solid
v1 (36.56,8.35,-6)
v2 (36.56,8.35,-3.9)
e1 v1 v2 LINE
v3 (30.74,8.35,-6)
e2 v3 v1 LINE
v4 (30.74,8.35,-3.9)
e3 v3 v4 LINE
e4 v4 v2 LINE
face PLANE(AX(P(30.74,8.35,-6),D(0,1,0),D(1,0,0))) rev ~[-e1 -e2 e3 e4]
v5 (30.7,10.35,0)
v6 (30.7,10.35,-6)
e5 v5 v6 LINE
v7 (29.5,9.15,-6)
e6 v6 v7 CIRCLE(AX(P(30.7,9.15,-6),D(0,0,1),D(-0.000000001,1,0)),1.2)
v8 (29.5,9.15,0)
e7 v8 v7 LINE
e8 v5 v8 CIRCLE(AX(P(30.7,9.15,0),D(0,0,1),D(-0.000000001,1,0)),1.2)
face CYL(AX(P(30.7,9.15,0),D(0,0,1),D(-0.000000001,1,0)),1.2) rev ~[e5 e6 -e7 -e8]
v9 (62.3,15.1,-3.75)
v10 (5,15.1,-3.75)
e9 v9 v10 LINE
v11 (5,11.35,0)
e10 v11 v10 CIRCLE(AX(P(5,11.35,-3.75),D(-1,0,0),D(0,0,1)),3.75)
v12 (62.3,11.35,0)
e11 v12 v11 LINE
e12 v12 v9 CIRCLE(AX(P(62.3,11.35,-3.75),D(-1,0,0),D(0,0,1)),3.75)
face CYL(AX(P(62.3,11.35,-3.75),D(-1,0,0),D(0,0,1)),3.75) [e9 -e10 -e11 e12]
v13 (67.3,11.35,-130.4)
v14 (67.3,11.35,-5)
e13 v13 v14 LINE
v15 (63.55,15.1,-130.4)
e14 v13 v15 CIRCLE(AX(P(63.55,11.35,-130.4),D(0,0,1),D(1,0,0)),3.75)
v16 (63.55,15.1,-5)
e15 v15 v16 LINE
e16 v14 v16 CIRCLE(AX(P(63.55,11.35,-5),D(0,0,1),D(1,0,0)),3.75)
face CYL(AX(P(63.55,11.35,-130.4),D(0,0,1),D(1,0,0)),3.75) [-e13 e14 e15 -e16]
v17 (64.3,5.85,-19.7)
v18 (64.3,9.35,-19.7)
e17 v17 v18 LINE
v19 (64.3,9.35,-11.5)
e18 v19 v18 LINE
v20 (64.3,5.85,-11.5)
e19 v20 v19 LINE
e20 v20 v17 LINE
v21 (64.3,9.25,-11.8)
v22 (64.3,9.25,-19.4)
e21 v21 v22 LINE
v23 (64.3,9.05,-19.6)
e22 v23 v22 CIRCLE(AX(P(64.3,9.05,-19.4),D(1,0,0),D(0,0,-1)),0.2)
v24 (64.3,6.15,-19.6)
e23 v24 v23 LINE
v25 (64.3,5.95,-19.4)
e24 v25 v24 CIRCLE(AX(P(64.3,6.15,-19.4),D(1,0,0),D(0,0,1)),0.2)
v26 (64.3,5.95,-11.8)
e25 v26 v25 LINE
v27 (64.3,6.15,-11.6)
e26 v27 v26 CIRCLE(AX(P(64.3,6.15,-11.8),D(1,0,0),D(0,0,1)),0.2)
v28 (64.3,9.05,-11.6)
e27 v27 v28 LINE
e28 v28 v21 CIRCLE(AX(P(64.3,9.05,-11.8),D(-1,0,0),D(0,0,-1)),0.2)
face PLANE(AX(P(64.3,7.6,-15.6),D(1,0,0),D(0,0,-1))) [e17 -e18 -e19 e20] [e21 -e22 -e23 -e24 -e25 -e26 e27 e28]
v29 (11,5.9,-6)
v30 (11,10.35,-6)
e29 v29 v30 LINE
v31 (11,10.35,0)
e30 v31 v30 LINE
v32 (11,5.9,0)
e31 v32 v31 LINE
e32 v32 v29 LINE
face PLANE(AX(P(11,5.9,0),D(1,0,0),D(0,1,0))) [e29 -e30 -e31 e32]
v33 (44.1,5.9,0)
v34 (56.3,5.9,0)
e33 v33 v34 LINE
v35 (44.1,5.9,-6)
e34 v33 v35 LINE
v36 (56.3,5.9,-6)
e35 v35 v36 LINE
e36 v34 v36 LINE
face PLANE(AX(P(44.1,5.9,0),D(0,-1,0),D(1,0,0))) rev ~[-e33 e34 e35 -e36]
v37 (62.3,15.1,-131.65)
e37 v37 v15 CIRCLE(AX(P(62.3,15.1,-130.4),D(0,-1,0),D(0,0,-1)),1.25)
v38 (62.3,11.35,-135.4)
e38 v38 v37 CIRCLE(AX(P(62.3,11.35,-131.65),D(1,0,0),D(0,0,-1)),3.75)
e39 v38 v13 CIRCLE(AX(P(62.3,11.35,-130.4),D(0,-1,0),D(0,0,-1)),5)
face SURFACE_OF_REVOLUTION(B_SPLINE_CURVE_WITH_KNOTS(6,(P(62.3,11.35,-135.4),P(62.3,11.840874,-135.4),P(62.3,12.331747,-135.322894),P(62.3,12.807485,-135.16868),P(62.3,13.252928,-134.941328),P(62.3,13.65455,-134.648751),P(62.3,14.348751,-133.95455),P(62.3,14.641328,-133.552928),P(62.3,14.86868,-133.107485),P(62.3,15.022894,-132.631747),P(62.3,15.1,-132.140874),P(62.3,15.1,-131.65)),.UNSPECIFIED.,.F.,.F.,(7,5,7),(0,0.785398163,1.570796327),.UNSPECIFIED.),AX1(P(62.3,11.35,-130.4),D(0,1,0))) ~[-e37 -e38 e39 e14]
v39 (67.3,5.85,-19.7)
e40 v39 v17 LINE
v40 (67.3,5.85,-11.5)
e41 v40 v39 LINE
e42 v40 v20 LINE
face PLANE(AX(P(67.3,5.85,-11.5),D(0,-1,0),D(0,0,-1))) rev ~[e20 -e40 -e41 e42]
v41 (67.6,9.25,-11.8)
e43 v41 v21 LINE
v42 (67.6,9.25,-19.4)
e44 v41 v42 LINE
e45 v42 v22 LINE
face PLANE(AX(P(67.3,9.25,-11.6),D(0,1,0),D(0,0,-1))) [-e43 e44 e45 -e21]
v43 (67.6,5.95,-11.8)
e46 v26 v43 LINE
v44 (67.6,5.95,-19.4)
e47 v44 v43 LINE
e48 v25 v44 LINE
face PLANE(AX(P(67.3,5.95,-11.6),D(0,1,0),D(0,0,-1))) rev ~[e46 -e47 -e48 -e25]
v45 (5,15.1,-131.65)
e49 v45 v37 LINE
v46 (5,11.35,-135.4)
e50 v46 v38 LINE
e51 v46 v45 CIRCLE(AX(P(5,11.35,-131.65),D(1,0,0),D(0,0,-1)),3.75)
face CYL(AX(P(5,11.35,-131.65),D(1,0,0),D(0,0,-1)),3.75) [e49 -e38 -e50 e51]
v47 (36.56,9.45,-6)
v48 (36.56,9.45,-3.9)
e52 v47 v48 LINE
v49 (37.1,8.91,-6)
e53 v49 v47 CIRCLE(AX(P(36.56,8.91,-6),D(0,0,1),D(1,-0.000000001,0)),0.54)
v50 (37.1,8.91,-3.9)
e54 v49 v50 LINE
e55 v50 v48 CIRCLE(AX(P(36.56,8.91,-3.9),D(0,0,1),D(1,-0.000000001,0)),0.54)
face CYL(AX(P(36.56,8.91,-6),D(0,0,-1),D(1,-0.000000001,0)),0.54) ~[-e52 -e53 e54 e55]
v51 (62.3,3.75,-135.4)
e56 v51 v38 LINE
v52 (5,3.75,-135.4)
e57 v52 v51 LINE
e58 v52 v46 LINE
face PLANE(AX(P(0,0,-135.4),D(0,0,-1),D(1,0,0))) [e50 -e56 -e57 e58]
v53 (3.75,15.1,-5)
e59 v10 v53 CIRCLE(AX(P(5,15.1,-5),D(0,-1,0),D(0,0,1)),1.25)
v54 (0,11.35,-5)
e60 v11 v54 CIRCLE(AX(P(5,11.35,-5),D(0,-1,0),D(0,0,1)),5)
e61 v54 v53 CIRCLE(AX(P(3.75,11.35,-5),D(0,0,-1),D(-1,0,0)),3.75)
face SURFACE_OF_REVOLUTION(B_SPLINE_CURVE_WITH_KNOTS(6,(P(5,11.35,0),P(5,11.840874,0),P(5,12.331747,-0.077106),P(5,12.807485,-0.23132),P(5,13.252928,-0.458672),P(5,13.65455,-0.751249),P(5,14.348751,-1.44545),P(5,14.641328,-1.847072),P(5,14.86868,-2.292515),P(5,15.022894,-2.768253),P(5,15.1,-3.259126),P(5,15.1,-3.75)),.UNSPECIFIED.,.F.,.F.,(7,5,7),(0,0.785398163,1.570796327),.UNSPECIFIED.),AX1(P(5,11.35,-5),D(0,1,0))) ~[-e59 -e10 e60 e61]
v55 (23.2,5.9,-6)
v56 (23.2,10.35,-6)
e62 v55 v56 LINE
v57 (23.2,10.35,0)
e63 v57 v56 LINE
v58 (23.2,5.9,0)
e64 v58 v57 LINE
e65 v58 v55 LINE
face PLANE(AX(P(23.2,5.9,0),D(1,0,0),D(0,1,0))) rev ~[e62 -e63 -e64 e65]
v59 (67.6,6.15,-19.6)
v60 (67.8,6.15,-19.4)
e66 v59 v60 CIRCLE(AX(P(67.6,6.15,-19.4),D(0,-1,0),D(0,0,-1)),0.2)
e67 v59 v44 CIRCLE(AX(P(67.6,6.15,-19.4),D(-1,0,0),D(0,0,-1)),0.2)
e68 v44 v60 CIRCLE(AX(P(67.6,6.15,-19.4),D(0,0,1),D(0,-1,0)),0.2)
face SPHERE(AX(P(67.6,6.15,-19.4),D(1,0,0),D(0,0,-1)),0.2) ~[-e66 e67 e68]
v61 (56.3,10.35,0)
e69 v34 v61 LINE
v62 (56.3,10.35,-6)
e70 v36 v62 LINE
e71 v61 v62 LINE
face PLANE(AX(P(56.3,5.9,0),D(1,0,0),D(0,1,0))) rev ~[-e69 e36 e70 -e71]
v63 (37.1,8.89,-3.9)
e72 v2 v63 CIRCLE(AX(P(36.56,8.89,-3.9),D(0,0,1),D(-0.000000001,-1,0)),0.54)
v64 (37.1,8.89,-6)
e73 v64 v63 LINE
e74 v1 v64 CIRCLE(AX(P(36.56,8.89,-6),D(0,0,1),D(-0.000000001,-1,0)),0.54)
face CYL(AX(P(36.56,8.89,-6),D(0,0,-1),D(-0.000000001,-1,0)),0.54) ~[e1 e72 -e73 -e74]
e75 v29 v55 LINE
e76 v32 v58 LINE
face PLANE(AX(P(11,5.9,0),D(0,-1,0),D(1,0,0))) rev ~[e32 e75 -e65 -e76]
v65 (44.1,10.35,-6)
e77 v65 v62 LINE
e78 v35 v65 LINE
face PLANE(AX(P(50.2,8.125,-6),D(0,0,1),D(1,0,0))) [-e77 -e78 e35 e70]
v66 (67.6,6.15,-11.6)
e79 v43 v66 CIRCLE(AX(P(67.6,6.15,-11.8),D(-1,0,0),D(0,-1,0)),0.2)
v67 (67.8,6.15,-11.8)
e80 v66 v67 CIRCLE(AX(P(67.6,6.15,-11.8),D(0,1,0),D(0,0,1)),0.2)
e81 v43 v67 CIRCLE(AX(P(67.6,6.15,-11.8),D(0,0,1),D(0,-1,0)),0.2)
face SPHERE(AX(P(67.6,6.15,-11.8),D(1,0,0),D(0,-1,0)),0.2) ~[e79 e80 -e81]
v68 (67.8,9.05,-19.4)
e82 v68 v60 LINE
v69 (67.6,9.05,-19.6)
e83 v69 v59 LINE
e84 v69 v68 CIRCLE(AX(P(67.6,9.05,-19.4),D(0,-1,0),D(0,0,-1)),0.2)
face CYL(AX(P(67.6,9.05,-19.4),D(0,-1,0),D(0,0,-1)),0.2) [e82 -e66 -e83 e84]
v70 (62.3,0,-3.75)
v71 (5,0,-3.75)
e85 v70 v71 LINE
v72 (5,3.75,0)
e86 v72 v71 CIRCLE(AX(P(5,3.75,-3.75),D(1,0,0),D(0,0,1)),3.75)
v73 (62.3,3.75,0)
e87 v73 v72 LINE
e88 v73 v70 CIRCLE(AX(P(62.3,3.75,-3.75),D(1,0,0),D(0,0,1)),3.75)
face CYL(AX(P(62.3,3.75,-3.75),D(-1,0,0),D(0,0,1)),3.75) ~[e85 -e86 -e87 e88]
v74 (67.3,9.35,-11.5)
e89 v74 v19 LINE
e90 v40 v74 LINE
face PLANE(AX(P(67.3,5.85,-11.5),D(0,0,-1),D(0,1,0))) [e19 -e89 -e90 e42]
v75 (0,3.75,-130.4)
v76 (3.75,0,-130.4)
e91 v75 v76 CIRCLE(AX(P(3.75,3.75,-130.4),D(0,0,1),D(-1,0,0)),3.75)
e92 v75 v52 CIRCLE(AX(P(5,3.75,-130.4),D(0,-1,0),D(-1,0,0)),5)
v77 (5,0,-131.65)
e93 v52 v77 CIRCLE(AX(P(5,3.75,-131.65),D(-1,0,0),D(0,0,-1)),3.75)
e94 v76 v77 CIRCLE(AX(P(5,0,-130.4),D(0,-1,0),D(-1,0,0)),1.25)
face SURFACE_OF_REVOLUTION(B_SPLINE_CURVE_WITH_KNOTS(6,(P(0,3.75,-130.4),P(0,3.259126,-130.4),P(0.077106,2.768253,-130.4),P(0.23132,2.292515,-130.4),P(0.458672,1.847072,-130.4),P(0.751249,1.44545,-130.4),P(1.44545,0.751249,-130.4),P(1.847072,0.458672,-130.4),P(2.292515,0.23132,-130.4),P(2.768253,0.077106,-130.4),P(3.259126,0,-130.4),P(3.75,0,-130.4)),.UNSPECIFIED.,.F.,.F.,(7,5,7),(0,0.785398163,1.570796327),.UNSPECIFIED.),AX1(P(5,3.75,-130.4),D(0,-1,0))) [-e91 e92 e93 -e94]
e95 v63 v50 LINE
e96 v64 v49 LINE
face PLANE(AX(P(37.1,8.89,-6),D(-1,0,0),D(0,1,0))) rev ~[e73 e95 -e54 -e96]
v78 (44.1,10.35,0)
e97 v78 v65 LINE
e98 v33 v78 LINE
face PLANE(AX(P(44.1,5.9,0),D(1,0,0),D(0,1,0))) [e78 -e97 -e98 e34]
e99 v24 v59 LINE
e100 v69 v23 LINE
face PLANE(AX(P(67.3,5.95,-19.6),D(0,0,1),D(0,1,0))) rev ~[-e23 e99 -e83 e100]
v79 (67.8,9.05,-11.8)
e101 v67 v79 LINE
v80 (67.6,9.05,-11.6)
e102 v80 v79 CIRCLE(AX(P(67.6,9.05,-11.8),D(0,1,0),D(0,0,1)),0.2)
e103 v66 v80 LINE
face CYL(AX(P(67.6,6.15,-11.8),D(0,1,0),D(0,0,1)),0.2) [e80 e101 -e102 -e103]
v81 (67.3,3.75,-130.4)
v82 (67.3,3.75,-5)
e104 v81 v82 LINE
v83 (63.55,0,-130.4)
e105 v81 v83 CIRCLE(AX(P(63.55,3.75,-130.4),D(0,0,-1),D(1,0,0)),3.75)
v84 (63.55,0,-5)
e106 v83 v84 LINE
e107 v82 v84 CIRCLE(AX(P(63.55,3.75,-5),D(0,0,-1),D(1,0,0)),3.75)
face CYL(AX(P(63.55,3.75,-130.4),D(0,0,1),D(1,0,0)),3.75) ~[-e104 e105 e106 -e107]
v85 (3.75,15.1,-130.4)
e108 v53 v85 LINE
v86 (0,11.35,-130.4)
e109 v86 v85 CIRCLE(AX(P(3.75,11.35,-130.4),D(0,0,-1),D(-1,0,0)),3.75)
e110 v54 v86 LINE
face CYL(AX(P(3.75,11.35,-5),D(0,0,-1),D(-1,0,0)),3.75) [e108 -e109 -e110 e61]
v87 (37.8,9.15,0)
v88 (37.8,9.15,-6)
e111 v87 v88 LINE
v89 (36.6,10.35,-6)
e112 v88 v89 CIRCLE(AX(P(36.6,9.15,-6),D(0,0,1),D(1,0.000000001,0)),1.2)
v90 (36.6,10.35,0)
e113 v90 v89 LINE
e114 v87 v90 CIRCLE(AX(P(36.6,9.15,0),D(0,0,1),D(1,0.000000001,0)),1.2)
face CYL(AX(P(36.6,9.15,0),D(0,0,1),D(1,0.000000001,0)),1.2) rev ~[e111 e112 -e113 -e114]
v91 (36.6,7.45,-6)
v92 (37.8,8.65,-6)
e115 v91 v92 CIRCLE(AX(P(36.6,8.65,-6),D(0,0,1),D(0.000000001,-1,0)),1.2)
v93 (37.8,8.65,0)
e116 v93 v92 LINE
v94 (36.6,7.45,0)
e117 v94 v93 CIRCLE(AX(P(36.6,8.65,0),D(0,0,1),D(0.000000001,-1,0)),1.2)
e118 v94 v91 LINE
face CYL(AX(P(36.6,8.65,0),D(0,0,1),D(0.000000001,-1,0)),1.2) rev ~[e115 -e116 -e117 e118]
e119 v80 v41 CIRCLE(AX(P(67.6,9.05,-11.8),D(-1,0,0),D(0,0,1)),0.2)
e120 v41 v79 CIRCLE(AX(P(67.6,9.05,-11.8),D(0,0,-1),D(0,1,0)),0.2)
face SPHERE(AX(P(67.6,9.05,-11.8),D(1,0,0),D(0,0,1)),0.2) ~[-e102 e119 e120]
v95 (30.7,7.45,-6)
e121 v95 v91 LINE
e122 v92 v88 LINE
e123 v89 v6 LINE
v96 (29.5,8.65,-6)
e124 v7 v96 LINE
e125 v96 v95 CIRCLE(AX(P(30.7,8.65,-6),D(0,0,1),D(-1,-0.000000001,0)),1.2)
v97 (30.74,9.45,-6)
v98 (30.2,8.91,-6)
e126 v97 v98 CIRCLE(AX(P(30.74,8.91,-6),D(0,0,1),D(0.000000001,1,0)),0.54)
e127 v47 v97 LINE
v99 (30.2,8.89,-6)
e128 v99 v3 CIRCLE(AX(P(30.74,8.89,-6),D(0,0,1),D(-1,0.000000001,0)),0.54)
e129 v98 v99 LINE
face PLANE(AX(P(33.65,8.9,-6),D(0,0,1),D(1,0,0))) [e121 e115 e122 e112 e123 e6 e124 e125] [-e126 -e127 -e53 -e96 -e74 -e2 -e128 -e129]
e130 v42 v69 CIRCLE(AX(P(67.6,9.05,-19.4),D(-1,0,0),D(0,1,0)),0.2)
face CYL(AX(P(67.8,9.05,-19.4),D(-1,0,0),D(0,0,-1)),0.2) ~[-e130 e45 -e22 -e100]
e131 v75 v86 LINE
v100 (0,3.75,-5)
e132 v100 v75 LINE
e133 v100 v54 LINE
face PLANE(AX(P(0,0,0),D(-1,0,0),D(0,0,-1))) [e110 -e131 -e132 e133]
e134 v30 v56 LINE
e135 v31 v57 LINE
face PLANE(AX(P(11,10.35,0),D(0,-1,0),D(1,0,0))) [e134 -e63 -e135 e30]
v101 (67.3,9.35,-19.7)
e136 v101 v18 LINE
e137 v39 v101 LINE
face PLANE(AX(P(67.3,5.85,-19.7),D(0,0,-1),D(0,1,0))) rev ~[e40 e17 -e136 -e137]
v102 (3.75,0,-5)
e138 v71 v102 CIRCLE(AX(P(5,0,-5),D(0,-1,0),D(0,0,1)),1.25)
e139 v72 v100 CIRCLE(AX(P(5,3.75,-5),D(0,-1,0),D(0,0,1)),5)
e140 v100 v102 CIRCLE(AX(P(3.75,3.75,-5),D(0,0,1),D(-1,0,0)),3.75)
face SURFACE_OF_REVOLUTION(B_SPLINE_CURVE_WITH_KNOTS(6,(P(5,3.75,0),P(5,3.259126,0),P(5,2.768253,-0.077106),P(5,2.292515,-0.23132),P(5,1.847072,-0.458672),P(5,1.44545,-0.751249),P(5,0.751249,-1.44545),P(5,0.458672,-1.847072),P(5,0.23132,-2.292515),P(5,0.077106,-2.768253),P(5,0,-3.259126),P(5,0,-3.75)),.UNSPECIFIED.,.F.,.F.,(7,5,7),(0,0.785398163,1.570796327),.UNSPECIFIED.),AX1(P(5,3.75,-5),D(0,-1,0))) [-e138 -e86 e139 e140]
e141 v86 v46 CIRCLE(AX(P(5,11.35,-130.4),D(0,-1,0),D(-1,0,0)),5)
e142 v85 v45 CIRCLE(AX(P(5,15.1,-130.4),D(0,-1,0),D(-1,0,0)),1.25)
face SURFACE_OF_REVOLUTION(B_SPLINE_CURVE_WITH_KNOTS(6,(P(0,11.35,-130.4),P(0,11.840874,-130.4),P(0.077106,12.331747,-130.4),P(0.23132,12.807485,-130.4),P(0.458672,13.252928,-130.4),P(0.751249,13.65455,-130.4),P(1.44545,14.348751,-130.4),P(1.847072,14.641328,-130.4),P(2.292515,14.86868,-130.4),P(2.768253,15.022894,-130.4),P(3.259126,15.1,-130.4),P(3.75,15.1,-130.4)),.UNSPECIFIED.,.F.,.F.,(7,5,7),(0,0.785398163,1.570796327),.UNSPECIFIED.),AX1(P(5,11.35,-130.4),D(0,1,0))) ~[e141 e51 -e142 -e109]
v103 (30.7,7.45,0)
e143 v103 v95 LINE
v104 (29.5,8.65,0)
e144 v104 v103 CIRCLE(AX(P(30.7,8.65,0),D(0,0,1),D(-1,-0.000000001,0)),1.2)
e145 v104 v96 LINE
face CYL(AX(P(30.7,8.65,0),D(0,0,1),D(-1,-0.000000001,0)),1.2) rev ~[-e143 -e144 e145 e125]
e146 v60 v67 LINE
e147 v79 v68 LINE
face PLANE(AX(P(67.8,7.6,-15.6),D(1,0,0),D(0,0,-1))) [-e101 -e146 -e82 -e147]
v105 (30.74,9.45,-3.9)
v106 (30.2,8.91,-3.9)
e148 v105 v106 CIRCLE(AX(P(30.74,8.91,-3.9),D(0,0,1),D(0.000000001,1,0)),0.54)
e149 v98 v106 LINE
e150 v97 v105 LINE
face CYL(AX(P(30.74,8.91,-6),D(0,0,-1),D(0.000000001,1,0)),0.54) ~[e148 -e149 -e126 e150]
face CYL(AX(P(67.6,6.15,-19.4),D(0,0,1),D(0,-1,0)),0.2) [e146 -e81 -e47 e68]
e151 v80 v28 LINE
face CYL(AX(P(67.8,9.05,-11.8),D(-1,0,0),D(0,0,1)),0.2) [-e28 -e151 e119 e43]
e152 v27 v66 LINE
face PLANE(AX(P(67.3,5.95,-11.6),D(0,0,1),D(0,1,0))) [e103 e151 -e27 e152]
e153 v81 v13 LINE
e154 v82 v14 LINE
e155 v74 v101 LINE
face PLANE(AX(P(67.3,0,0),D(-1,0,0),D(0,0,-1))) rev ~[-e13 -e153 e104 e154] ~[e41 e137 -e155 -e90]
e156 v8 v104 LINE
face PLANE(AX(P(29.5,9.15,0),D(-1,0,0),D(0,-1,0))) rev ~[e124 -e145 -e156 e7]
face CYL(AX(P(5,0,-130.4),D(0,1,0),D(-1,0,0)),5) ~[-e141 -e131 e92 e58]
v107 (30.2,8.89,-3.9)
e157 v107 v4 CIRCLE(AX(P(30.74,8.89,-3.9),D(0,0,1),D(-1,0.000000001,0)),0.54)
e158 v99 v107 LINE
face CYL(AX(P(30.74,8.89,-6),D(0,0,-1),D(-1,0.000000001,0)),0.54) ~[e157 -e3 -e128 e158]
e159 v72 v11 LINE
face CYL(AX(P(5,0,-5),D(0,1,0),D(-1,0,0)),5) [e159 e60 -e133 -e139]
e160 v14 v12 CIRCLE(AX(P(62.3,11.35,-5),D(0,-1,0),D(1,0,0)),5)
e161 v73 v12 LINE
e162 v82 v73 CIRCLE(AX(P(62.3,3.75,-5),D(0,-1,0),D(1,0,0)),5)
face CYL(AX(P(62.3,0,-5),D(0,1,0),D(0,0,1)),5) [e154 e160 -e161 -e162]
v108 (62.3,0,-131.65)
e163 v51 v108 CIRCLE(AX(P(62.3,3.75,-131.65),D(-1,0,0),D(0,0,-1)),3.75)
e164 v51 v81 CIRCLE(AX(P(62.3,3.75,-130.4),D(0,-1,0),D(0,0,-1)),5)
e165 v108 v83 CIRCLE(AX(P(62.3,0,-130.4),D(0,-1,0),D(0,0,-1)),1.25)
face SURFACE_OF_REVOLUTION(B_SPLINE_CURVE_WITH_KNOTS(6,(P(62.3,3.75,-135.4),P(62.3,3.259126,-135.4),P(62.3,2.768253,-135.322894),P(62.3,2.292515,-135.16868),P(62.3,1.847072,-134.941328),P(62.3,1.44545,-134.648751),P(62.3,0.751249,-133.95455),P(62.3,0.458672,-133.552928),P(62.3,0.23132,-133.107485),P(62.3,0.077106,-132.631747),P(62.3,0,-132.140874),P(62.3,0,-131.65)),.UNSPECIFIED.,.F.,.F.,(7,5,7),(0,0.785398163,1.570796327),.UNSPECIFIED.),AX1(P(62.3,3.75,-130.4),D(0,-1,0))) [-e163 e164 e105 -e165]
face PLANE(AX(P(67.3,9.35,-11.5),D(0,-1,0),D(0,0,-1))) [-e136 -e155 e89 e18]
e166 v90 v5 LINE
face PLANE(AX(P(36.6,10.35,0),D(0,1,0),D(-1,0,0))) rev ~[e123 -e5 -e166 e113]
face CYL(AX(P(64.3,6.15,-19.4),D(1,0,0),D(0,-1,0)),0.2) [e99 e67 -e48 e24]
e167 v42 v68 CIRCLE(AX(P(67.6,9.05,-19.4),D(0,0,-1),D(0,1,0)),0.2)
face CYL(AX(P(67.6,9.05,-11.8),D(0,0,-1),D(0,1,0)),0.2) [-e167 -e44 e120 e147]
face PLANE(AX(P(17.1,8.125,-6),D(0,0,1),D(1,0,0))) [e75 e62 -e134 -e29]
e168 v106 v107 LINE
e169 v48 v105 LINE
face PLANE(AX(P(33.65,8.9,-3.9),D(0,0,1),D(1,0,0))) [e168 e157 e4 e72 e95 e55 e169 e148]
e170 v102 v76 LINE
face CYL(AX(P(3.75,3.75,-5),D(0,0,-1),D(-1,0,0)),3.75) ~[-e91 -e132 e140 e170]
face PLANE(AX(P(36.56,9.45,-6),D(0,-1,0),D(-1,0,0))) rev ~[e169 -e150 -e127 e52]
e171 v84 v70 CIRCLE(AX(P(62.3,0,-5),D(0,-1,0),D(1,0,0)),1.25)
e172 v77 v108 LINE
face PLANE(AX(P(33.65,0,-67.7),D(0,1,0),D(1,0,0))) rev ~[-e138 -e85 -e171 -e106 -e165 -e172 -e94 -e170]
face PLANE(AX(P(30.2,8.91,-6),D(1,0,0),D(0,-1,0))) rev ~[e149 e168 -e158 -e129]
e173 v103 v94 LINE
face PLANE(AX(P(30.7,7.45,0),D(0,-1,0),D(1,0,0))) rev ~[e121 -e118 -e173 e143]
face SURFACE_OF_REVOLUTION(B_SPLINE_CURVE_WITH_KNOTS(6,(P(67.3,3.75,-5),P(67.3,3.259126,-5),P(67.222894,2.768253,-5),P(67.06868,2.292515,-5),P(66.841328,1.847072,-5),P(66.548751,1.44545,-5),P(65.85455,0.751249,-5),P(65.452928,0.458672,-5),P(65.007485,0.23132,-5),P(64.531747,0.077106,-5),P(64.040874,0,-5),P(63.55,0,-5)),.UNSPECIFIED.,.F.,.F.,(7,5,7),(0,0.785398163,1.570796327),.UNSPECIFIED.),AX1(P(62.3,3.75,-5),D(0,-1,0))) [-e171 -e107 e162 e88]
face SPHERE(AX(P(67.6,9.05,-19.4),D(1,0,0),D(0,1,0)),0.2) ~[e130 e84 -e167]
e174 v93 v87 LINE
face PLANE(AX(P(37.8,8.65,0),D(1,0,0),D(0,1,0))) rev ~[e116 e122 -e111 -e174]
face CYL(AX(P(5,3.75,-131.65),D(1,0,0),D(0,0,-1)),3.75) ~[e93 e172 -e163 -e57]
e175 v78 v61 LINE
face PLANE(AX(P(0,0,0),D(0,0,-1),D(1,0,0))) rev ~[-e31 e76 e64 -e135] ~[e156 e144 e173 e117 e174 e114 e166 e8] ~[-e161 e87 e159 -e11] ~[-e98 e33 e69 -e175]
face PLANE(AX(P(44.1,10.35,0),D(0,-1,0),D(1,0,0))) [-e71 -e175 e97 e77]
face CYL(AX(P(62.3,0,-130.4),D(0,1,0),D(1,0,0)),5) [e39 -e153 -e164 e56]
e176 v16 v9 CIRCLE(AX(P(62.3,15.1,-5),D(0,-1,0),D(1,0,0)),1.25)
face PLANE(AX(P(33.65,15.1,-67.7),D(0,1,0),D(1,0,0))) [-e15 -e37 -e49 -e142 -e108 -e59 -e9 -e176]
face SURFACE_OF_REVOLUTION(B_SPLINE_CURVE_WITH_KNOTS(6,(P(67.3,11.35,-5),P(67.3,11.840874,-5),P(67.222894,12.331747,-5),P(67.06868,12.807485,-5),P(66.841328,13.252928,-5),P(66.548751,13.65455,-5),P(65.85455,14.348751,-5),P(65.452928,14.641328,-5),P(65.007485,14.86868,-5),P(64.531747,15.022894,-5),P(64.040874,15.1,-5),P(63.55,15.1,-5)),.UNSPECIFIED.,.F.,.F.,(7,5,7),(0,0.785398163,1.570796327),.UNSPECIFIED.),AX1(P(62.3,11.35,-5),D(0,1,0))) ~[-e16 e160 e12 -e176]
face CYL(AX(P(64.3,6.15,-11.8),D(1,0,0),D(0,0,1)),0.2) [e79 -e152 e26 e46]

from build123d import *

# Parameters (mm, degrees)
SKETCH1_W           = 67.3
SKETCH1_H           = 135.4
BOSS_EXTRUDE1_DEPTH = 15.1
FILLET1_R           = 5
FILLET2_R           = 3.75
SKETCH2_W           = 12.2
SKETCH2_H           = 4.45
CUT_EXTRUDE1_DEPTH  = 6
SKETCH3_W           = 8.2
SKETCH3_H           = 3.5
SKETCH3_W_2         = 8
SKETCH3_H_2         = 3.3
CUT_EXTRUDE2_DEPTH  = 3
FILLET3_R           = 3.75
SKETCH4_W           = 8
SKETCH4_H           = 3.3
BOSS_EXTRUDE2_DEPTH = 0.5
FILLET4_R           = 0.2
FILLET5_R           = 0.2
BOSS_EXTRUDE3_DEPTH = 2.1


with BuildPart() as part:
    # Sketch1 → Boss-Extrude1 (new body)
    with BuildSketch(Plane(origin=(0, 0, 0), x_dir=(1, 0, 0), z_dir=(0, 1, 0))):
        with Locations((33.65, 67.7)):
            Rectangle(SKETCH1_W, SKETCH1_H)
    extrude(amount=BOSS_EXTRUDE1_DEPTH)

    # Fillet1
    fillet1_edges = [part.edges().sort_by_distance(p)[0] for p in [
        (0, 7.55, -135.4),
        (67.3, 7.55, -135.4),
        (67.3, 7.55, 0),
        (0, 7.55, 0),
    ]]
    fillet(fillet1_edges, radius=FILLET1_R)

    # Fillet2
    fillet2_edges = [part.edges().sort_by_distance(p)[0] for p in [
        (0, 15.1, -67.7),
        (33.65, 15.1, -135.4),
        (33.65, 15.1, 0),
        (67.3, 15.1, -67.7),
        (1.464466094, 15.1, -1.464466094),
        (65.835533906, 15.1, -1.464466094),
        (65.835533906, 15.1, -133.935533906),
        (1.464466094, 15.1, -133.935533906),
    ]]
    fillet(fillet2_edges, radius=FILLET2_R)

    # Sketch2 → Cut-Extrude1 (cut)
    with BuildSketch(Plane.XY):
        with Locations((17.1, 8.125)):
            Rectangle(SKETCH2_W, SKETCH2_H)
        with Locations((50.2, 8.125)):
            Rectangle(SKETCH2_W, SKETCH2_H)
        with BuildLine():
            Line((30.7, 7.45), (36.6, 7.45))
            ThreePointArc((36.6, 7.45), (37.448528137, 7.801471863), (37.8, 8.65))
            Line((37.8, 8.65), (37.8, 9.15))
            ThreePointArc((37.8, 9.15), (37.448528137, 9.998528137), (36.6, 10.35))
            Line((36.6, 10.35), (30.7, 10.35))
            ThreePointArc((30.7, 10.35), (29.851471863, 9.998528137), (29.5, 9.15))
            Line((29.5, 9.15), (29.5, 8.65))
            ThreePointArc((29.5, 8.65), (29.851471863, 7.801471863), (30.7, 7.45))
        make_face()
    extrude(amount=-CUT_EXTRUDE1_DEPTH, mode=Mode.SUBTRACT)

    # Sketch3 → Cut-Extrude2 (cut)
    with BuildSketch(Plane(origin=(67.3, 0, 0), x_dir=(0, 0, -1), z_dir=(1, 0, 0))):
        with Locations((15.6, 7.6)):
            Rectangle(SKETCH3_W, SKETCH3_H)
        with Locations((15.6, 7.6)):
            Rectangle(SKETCH3_W_2, SKETCH3_H_2, mode=Mode.SUBTRACT)
    extrude(amount=-CUT_EXTRUDE2_DEPTH, mode=Mode.SUBTRACT)

    # Fillet3
    fillet3_edges = [part.edges().sort_by_distance(p)[0] for p in [
        (0, 0, -67.7),
        (33.65, 0, -135.4),
        (67.3, 0, -67.7),
        (33.65, 0, 0),
        (1.464466094, 0, -1.464466094),
        (65.835533906, 0, -1.464466094),
        (65.835533906, 0, -133.935533906),
        (1.464466094, 0, -133.935533906),
    ]]
    fillet(fillet3_edges, radius=FILLET3_R)

    # Sketch4 → Boss-Extrude2 (add)
    with BuildSketch(Plane(origin=(67.3, 0, 0), x_dir=(0, 0, -1), z_dir=(1, 0, 0))):
        with Locations((15.6, 7.6)):
            Rectangle(SKETCH4_W, SKETCH4_H)
    extrude(amount=BOSS_EXTRUDE2_DEPTH)

    # Fillet4
    fillet4_edges = [part.edges().sort_by_distance(p)[0] for p in [
        (66.05, 9.25, -11.6),
        (66.05, 9.25, -19.6),
        (66.05, 5.95, -19.6),
        (66.05, 5.95, -11.6),
    ]]
    fillet(fillet4_edges, radius=FILLET4_R)

    # Fillet5
    fillet5_edges = [part.edges().sort_by_distance(p)[0] for p in [
        (67.8, 7.6, -11.6),
        (67.8, 5.95, -15.6),
        (67.8, 7.6, -19.6),
        (67.8, 9.25, -15.6),
        (67.8, 9.191421356, -11.658578644),
        (67.8, 9.191421356, -19.541421356),
        (67.8, 6.008578644, -19.541421356),
        (67.8, 6.008578644, -11.658578644),
    ]]
    fillet(fillet5_edges, radius=FILLET5_R)

    # Sketch5 → Boss-Extrude3 (add)
    with BuildSketch(Plane.XY.offset(-6)):
        with BuildLine():
            Line((30.74, 8.35), (36.56, 8.35))
            ThreePointArc((36.56, 8.35), (36.941837662, 8.508162338), (37.1, 8.89))
            Line((37.1, 8.89), (37.1, 8.91))
            ThreePointArc((37.1, 8.91), (36.941837662, 9.291837662), (36.56, 9.45))
            Line((36.56, 9.45), (30.74, 9.45))
            ThreePointArc((30.74, 9.45), (30.358162338, 9.291837662), (30.2, 8.91))
            Line((30.2, 8.91), (30.2, 8.89))
            ThreePointArc((30.2, 8.89), (30.358162338, 8.508162338), (30.74, 8.35))
        make_face()
    extrude(amount=BOSS_EXTRUDE3_DEPTH)


solid = part.part
